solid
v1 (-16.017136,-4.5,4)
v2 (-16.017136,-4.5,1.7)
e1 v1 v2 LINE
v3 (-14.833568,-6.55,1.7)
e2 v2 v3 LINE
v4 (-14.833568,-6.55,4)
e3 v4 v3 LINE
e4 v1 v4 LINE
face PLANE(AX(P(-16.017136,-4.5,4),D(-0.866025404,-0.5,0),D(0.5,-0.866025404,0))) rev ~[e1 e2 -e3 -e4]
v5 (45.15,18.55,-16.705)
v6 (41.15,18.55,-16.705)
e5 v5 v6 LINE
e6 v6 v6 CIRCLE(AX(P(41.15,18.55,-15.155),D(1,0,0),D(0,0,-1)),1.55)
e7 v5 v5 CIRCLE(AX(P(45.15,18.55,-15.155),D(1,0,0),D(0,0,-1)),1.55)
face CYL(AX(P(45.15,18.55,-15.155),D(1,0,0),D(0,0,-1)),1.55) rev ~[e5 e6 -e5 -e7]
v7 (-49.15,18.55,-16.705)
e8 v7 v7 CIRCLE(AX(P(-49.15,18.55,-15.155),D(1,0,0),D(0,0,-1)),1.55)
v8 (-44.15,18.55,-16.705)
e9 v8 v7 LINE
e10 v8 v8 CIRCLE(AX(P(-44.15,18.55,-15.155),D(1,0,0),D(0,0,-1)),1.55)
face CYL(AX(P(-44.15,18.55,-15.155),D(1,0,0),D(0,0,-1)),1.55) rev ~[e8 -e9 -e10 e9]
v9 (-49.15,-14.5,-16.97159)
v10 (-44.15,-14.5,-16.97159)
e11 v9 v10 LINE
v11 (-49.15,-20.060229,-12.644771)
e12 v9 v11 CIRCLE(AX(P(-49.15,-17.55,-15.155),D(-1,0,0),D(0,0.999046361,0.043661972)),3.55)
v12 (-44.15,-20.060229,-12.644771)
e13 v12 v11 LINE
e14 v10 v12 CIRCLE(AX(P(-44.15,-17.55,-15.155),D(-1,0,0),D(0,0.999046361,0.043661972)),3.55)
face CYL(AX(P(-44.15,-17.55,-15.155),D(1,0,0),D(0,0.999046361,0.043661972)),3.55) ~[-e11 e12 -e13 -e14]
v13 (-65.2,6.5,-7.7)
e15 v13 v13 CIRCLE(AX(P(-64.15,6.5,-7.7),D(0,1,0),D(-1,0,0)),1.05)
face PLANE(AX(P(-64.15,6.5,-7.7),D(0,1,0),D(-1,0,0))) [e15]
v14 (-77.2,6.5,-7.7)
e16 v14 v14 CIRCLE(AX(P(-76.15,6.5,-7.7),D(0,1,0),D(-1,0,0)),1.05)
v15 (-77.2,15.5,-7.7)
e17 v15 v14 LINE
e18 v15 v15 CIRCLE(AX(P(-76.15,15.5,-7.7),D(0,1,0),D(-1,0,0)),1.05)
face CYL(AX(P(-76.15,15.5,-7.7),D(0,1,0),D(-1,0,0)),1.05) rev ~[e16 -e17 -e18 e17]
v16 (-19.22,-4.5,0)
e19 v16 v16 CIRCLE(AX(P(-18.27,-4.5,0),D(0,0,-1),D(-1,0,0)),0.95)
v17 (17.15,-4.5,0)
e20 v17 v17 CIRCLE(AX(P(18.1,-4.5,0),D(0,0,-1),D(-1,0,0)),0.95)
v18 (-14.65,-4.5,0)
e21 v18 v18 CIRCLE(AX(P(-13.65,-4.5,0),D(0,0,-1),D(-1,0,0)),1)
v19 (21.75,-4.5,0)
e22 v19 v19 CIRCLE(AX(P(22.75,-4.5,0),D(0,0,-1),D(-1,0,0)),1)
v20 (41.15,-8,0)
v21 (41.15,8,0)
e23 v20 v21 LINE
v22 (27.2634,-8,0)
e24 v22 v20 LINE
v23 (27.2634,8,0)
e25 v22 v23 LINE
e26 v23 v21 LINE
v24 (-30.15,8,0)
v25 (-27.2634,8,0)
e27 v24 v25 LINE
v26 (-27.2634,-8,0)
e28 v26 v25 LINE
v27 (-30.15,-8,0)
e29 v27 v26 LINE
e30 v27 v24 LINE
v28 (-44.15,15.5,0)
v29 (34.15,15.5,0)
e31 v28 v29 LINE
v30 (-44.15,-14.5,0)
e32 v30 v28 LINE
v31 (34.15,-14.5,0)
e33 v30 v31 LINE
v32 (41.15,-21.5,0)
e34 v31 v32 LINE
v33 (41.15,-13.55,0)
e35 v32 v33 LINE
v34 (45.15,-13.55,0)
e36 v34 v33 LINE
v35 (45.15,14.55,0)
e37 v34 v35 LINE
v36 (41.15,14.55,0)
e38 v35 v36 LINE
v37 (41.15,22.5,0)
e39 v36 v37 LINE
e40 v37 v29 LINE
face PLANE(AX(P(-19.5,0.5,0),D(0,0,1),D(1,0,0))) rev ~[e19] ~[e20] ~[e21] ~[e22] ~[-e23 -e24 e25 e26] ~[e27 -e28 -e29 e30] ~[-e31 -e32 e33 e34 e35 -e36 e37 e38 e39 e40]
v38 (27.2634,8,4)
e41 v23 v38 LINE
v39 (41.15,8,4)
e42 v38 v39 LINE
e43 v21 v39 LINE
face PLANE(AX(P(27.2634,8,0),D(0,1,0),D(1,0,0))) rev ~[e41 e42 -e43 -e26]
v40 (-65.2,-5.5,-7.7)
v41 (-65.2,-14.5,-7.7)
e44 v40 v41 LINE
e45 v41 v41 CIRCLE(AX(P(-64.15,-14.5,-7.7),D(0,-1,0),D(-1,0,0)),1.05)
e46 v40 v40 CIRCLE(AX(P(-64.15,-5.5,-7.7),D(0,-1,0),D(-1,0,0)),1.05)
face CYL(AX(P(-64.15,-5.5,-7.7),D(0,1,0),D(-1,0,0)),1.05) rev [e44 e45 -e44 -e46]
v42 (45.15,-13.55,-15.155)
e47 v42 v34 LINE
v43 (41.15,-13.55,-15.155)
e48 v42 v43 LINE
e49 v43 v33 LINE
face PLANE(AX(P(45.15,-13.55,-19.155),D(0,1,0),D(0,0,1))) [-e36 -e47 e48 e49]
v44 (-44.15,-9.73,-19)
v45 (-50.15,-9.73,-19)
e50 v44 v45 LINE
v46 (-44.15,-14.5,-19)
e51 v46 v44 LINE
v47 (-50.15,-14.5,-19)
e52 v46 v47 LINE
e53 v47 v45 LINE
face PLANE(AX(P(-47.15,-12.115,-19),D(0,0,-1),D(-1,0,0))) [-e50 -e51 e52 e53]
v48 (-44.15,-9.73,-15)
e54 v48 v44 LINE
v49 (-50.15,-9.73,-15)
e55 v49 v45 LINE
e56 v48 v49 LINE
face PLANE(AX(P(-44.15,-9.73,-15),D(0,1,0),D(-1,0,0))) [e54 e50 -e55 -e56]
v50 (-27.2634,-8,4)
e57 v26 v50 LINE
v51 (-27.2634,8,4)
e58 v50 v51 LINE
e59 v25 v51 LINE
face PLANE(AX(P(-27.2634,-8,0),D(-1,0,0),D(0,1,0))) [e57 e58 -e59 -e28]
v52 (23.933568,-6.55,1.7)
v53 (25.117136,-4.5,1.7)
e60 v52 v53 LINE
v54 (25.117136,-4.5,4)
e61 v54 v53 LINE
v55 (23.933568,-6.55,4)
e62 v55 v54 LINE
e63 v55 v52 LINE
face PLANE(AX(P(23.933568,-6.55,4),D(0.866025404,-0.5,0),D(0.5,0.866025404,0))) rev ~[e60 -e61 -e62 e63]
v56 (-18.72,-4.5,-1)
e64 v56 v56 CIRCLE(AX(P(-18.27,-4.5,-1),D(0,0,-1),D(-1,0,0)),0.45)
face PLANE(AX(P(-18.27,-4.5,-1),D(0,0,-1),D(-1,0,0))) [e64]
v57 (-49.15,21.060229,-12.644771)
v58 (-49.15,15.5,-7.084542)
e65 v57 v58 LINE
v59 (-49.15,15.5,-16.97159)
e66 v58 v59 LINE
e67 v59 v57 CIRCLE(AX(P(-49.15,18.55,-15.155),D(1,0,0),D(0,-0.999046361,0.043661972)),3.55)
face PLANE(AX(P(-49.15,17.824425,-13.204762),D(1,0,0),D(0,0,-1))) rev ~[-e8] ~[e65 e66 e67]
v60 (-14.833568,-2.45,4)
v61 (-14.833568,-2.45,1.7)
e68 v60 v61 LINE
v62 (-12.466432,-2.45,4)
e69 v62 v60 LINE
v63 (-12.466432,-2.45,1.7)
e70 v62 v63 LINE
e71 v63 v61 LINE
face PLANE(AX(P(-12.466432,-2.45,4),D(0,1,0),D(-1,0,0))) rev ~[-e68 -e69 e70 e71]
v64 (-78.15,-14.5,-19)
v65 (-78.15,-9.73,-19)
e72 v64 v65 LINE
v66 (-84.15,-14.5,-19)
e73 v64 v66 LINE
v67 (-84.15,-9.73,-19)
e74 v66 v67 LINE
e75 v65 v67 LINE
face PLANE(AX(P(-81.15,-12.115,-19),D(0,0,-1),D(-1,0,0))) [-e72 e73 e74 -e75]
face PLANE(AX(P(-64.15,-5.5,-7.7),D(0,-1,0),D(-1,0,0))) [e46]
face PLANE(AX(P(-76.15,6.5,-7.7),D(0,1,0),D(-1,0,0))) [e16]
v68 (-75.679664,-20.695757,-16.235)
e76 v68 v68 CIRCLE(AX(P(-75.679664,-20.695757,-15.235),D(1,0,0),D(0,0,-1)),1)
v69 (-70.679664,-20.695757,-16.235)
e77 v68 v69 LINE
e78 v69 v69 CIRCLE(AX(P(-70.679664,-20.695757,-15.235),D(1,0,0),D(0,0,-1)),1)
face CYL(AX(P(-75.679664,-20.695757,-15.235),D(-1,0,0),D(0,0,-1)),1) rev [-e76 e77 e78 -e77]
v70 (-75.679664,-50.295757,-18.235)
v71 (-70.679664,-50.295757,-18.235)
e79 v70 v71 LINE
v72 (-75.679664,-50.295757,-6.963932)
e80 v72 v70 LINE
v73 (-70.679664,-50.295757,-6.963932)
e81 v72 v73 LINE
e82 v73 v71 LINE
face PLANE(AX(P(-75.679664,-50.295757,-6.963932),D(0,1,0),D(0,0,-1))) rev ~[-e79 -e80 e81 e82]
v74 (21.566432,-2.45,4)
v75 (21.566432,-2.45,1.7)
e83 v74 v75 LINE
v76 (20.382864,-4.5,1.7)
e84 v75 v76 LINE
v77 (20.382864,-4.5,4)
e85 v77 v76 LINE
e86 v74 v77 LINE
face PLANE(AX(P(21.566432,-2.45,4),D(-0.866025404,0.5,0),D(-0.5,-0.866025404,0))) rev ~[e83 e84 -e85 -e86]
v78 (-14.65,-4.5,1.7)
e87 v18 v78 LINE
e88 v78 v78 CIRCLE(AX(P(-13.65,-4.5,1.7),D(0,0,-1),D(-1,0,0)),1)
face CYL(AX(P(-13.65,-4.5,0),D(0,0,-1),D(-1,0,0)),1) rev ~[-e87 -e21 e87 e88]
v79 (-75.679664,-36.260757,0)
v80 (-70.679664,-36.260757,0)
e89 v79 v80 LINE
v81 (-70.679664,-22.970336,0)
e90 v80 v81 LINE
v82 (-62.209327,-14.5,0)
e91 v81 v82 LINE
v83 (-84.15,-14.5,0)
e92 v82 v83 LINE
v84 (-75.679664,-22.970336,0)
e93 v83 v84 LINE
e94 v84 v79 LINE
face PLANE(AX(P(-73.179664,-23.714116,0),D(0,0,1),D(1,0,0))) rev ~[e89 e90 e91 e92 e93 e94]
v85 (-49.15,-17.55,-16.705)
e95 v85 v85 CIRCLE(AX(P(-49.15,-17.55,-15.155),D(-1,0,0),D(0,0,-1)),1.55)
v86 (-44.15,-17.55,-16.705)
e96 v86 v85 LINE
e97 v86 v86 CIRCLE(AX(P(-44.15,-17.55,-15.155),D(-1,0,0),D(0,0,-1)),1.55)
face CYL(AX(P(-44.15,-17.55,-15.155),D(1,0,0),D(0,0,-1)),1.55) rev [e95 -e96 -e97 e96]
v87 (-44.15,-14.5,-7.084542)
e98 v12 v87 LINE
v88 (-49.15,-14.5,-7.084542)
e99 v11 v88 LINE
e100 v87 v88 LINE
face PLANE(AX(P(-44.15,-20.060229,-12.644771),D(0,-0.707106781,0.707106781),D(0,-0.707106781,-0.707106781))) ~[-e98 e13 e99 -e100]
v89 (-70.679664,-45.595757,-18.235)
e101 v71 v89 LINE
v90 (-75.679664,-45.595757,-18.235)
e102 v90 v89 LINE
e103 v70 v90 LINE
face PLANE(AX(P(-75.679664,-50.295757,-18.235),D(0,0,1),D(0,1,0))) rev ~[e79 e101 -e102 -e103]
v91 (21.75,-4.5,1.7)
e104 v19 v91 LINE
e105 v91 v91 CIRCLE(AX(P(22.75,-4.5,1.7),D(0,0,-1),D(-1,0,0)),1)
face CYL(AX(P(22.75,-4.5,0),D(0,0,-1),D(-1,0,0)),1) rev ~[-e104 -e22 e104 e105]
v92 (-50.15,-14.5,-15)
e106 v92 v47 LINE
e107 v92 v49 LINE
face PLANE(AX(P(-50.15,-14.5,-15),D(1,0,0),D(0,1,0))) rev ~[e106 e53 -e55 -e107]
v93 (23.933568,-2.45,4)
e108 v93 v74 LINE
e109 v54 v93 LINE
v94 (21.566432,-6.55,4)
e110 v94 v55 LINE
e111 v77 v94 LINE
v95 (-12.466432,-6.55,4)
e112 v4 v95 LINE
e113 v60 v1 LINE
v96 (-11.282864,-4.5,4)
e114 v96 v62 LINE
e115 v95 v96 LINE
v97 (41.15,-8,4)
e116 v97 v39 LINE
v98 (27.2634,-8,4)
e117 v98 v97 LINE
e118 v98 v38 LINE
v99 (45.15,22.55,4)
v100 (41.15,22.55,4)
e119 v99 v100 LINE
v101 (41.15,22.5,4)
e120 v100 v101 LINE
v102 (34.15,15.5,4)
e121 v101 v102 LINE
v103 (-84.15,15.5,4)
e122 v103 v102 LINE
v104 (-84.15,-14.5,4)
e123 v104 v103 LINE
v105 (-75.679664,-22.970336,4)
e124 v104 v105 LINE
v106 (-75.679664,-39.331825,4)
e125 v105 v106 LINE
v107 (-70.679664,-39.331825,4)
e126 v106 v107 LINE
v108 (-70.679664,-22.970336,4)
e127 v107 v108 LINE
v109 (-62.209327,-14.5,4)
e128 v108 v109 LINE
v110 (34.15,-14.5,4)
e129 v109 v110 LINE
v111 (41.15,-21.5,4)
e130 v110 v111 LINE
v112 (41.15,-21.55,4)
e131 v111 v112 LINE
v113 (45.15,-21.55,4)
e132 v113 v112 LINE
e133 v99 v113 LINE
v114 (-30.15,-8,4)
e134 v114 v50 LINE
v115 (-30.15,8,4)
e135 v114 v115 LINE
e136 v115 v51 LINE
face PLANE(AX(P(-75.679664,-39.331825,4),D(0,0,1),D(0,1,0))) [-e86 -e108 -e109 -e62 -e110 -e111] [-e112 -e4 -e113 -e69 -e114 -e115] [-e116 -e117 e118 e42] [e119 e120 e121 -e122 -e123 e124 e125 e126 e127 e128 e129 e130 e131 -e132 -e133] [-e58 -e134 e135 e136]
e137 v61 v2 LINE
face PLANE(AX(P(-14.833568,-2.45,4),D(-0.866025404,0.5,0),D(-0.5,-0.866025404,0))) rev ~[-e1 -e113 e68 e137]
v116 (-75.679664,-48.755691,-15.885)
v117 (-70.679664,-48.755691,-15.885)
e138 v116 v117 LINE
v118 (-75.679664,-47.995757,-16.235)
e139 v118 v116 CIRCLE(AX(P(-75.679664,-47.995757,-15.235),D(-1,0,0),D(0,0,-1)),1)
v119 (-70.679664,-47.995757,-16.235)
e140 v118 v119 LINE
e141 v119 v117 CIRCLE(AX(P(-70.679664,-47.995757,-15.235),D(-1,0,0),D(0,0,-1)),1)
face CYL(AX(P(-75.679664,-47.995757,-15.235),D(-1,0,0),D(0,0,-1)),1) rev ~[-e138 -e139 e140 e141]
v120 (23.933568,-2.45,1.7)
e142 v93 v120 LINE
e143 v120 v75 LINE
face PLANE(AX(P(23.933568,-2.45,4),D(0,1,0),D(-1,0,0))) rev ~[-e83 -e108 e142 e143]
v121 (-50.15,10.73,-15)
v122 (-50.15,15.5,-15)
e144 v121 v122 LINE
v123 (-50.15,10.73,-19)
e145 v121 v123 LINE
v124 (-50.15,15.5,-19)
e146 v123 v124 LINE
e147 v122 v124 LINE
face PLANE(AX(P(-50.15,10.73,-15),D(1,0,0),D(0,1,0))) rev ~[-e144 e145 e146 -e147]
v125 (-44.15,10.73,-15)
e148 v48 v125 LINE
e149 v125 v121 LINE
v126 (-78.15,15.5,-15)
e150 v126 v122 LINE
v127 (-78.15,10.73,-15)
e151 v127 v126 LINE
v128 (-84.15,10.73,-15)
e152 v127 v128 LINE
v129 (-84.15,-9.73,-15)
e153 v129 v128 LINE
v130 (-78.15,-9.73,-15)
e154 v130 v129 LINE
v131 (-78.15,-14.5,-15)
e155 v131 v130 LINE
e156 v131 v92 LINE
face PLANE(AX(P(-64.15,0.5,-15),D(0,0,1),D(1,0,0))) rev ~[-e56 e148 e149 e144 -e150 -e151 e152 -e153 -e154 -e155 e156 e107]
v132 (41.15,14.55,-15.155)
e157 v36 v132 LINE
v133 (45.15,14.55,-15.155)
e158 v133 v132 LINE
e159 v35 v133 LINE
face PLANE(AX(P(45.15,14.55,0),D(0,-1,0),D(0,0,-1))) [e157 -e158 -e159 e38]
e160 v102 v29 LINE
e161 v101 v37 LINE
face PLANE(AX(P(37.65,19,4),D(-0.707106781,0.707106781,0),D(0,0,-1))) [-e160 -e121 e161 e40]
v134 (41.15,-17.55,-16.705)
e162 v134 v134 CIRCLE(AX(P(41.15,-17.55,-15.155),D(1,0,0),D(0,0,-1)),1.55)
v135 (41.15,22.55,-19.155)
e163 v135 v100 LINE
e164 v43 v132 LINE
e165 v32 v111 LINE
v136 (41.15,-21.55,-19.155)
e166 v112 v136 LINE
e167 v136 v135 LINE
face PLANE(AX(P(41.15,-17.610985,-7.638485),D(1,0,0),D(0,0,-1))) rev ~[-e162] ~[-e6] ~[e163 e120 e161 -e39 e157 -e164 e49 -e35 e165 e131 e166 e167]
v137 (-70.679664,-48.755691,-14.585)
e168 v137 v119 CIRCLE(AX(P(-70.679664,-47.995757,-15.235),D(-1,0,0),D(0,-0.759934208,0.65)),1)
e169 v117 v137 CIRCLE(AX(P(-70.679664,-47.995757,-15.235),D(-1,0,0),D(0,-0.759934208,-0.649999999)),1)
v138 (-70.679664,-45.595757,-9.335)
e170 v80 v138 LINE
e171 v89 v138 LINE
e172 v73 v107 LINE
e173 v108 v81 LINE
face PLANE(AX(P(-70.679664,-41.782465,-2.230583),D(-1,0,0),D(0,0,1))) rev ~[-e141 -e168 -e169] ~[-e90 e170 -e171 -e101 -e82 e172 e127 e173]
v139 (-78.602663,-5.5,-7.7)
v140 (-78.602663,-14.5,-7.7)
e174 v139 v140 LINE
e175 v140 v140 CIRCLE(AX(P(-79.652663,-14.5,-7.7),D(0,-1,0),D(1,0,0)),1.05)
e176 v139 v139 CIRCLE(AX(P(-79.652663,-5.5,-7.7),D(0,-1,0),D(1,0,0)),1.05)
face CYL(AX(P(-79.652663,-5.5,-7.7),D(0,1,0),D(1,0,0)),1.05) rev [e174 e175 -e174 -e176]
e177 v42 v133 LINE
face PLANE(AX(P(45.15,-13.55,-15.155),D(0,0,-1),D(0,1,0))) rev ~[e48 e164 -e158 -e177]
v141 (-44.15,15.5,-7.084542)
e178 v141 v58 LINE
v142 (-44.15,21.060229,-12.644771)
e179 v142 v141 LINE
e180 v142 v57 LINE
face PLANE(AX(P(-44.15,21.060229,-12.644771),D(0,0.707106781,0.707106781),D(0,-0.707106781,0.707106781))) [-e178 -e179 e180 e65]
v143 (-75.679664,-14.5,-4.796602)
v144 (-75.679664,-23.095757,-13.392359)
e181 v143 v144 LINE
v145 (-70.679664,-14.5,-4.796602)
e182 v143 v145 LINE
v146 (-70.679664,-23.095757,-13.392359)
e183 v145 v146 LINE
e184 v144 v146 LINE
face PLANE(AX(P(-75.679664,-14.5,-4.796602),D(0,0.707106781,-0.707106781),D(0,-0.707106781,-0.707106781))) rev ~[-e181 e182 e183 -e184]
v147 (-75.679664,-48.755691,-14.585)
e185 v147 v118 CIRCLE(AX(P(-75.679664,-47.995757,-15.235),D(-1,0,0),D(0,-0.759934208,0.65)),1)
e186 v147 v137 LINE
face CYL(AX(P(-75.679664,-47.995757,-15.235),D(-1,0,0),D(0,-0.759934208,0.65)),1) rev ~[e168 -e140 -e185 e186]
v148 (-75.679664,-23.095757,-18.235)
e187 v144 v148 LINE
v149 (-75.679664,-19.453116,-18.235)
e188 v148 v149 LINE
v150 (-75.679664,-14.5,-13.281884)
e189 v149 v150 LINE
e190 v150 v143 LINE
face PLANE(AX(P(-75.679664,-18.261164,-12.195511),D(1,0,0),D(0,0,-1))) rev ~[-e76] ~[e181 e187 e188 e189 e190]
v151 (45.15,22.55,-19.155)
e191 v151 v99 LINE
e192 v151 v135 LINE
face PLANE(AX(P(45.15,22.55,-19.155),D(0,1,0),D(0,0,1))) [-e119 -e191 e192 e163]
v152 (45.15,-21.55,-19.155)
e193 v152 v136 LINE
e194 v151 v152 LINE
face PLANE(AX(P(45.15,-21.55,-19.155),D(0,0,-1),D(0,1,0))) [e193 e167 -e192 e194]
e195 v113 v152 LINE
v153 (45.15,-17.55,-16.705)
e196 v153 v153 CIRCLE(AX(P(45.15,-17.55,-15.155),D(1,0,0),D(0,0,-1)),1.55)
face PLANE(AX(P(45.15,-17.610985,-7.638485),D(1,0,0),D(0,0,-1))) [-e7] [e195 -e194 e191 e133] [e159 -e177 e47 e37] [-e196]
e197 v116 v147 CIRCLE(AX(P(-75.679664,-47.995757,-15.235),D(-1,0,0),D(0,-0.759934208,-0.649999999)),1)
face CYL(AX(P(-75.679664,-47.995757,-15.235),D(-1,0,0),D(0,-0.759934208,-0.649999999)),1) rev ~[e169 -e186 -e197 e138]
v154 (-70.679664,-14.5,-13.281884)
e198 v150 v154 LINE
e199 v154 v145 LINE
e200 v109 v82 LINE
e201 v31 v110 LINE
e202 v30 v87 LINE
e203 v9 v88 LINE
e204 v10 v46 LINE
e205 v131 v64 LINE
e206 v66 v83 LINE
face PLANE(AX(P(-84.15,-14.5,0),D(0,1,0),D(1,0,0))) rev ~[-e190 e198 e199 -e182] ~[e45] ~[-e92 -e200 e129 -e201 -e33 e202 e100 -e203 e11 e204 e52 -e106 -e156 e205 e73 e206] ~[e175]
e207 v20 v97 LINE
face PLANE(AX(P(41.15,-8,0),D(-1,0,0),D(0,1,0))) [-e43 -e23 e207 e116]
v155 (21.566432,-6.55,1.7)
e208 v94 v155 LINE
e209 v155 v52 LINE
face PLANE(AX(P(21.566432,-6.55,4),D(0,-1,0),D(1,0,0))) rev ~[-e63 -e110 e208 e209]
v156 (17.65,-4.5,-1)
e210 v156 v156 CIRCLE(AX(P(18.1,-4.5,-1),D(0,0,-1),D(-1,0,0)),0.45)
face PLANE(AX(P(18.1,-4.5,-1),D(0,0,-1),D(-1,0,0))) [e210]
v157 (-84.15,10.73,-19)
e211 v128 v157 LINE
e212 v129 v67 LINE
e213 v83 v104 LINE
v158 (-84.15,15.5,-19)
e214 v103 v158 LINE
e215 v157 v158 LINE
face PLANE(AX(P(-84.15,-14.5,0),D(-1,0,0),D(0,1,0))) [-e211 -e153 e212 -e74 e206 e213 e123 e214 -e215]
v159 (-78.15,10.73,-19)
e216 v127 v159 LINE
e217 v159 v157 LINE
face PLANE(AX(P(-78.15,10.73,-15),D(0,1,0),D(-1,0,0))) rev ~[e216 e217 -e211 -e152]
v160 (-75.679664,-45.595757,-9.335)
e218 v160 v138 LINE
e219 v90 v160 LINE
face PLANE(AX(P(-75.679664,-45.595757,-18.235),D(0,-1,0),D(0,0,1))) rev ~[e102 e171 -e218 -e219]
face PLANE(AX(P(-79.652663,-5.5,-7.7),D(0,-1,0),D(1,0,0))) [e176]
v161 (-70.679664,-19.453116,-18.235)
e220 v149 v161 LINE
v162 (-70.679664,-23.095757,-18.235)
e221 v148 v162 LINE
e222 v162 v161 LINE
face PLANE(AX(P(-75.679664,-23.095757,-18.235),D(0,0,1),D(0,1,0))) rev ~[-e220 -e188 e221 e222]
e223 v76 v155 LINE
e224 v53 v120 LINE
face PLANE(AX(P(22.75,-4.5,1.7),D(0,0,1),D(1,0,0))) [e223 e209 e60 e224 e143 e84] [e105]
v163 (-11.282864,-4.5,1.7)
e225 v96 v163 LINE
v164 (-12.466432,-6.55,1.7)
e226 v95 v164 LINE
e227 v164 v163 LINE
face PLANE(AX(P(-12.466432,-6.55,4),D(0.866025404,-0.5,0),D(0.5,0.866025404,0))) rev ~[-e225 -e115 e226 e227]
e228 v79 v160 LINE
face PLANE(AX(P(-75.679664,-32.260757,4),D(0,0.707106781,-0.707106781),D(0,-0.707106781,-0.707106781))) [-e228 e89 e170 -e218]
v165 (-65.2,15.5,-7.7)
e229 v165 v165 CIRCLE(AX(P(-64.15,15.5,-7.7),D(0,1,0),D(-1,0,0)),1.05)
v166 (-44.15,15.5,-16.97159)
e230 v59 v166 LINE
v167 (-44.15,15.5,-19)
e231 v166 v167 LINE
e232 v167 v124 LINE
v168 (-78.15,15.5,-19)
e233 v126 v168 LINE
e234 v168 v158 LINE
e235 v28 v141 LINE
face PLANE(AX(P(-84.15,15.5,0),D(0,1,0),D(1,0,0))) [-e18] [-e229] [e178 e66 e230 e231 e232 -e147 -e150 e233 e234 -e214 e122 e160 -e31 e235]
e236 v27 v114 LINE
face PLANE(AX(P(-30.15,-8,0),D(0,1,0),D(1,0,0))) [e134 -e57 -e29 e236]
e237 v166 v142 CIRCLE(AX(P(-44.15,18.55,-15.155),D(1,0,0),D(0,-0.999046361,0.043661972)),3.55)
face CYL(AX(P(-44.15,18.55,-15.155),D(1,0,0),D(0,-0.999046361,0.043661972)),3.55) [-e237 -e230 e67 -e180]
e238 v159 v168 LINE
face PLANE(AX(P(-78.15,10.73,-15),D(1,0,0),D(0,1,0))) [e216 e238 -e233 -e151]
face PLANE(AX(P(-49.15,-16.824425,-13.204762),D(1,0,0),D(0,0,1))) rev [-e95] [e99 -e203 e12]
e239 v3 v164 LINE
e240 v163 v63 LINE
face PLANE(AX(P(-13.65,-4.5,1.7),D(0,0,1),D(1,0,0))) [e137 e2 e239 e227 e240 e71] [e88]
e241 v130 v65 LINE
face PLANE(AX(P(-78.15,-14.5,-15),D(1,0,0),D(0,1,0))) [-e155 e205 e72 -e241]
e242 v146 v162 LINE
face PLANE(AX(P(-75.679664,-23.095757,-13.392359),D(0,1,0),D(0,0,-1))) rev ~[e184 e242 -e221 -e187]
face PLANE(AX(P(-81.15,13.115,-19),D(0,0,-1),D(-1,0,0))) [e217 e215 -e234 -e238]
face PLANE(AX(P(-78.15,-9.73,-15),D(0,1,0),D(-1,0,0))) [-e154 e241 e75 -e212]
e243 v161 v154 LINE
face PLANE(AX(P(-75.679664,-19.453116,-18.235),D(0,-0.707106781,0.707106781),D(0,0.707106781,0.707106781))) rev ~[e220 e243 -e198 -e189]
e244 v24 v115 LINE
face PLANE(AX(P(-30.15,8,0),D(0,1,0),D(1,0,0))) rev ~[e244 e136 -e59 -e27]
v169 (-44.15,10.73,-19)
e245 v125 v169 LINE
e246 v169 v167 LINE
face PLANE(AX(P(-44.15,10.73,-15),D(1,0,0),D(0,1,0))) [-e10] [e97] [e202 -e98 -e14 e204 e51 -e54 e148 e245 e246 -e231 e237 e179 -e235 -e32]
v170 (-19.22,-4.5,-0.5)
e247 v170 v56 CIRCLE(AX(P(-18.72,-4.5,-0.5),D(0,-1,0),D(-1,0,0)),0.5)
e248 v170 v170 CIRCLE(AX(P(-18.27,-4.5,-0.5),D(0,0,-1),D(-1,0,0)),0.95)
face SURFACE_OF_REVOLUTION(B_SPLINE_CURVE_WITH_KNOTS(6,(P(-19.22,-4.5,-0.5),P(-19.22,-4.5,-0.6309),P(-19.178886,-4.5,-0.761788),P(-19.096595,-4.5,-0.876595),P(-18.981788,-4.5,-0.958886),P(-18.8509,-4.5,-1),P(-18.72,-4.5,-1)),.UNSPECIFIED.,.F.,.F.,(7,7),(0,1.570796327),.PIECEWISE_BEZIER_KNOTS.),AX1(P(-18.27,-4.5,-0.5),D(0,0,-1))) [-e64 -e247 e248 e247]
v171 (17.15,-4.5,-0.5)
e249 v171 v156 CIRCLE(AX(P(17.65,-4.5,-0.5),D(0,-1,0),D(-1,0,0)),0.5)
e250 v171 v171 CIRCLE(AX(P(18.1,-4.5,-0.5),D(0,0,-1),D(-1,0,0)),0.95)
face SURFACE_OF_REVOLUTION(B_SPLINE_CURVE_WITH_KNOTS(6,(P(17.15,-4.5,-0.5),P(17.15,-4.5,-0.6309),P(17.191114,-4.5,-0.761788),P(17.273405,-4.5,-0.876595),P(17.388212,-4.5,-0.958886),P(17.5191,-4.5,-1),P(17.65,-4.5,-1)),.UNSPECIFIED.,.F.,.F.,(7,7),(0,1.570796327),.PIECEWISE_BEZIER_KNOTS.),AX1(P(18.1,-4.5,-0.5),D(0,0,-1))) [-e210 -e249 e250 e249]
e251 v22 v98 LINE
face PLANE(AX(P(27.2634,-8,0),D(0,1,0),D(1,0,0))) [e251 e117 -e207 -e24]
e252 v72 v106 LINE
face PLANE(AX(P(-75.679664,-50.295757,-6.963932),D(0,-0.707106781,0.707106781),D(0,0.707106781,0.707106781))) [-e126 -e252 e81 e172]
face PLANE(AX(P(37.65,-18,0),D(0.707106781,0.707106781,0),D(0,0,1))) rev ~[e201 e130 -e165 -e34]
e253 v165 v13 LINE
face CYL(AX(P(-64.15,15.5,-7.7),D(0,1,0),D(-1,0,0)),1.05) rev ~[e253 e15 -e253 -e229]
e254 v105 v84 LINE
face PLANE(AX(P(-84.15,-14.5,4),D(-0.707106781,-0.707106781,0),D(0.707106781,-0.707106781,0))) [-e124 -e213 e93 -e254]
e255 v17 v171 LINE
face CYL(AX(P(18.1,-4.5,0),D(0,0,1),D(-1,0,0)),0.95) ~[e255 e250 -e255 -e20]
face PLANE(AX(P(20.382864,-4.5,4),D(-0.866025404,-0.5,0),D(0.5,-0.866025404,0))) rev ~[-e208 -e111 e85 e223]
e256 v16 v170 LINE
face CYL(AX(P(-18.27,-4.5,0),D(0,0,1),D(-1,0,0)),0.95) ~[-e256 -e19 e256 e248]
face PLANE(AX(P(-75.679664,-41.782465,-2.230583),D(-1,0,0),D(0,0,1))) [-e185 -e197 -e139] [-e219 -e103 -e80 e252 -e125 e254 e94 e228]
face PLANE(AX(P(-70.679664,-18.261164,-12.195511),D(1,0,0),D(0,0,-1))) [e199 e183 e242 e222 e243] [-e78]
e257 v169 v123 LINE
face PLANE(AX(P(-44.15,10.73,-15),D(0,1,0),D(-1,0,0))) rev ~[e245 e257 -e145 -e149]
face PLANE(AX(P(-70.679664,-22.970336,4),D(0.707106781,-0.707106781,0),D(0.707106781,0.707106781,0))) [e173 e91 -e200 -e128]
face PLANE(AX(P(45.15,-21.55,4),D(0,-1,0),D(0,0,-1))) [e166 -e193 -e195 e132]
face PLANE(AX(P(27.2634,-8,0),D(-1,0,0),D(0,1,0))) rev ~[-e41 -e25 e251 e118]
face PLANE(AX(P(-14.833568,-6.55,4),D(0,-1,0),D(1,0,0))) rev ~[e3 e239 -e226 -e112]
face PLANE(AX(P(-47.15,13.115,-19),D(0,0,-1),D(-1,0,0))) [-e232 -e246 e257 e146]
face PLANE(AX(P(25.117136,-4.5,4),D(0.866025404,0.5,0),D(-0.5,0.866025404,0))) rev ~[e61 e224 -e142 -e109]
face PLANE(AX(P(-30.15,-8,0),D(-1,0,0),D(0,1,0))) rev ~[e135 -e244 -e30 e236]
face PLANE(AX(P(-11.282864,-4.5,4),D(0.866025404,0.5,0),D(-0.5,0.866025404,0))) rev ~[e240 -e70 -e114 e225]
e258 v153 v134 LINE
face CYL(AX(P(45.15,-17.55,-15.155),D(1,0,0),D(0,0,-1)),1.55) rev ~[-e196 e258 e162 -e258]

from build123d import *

# Parameters (mm, degrees)
SKETCH_1_W          = 40
SKETCH_1_H          = 30
EXTRUDE_1_DEPTH     = 15
SKETCH_3_R          = 1.55
EXTRUDE_2_DEPTH     = 5
SKETCH_4_W          = 6
SKETCH_4_H          = 4.77
EXTRUDE_3_DEPTH     = 4
SKETCH_5_W          = 129.3
SKETCH_5_H          = 30
SKETCH_5_W_2        = 13.8866
SKETCH_5_H_2        = 16
SKETCH_5_W_3        = 2.8866
EXTRUDE_4_DEPTH     = 4
SKETCH_7_R          = 1.55
SKETCH_7_W          = 4
SKETCH_7_H          = 0.95
SKETCH_7_H_2        = 28.1
EXTRUDE_5_DEPTH     = 4
SKETCH_8_R          = 1
EXTRUDE_6_DEPTH     = 5
EXTRUDE_7_DEPTH     = 5
EXTRUDE_8_DEPTH     = 4
SKETCH_12_R         = 1.05
CUT_EXTRUDE_1_DEPTH = 9
CUT_EXTRUDE_START   = -9
SKETCH_13_R         = 1.05
CUT_EXTRUDE_2_DEPTH = 9
CHAMFER_1_SIZE      = 7
CUT_EXTRUDE_3_REACH = 101.889
SKETCH_14_R         = 1
SKETCH_15_R         = 0.95
EXTRUDE_9_DEPTH     = 1
FILLET_1_R          = 0.5
CUT_EXTRUDE_4_DEPTH = 2.3


with BuildPart() as part:
    # 草图1 → 凸台-拉伸1 (new body)
    with BuildSketch(Plane.XY):
        with Locations((-64.15, 0.5)):
            Rectangle(SKETCH_1_W, SKETCH_1_H)
    extrude(amount=-EXTRUDE_1_DEPTH)

    # 草图3 → 凸台-拉伸2 (add)
    with BuildSketch(Plane(origin=(-44.15, 0, 0), x_dir=(0, 0, -1), z_dir=(1, 0, 0))):
        with BuildLine():
            Line((7.084541854, 15.5), (15, 15.5))
            Line((15, 15.5), (15, 15.003385417))
            ThreePointArc((15, 15.003385417), (18.463655357, 19.83658452), (12.644770927, 21.060229073))
            Line((12.644770927, 21.060229073), (7.084541854, 15.5))
        make_face()
        with Locations((15.155, 18.55)):
            Circle(SKETCH_3_R, mode=Mode.SUBTRACT)
    extrude_2 = extrude(amount=-EXTRUDE_2_DEPTH)

    # 镜向2: 凸台-拉伸2 across plane
    add(extrude_2.mirror(Plane.ZX.offset(0.5)))

    # 草图4 → 凸台-拉伸3 (add)
    with BuildSketch(Plane(origin=(0, 0, -15), x_dir=(-1, 0, 0), z_dir=(0, 0, -1))):
        with Locations((47.15, 13.115)):
            Rectangle(SKETCH_4_W, SKETCH_4_H)
        with Locations((81.15, 13.115)):
            Rectangle(SKETCH_4_W, SKETCH_4_H)
        with Locations((81.15, -12.115)):
            Rectangle(SKETCH_4_W, SKETCH_4_H)
        with Locations((47.15, -12.115)):
            Rectangle(SKETCH_4_W, SKETCH_4_H)
    extrude(amount=EXTRUDE_3_DEPTH)

    # 草图5 → 凸台-拉伸4 (add)
    with BuildSketch(Plane.XY):
        with Locations((-19.5, 0.5)):
            Rectangle(SKETCH_5_W, SKETCH_5_H)
        with Locations((34.2067, 0)):
            Rectangle(SKETCH_5_W_2, SKETCH_5_H_2, mode=Mode.SUBTRACT)
        with Locations((-28.7067, 0)):
            Rectangle(SKETCH_5_W_3, SKETCH_5_H_2, mode=Mode.SUBTRACT)
    extrude(amount=EXTRUDE_4_DEPTH)

    # 草图7 → 凸台-拉伸5 (add)
    # profile 1 of 4: a face of its own
    with BuildSketch(Plane(origin=(45.15, 0, 0), x_dir=(0, 0, -1), z_dir=(1, 0, 0))):
        Polygon((19.155, -21.55), (19.155, -13.55), (15.155, -13.55), (0, -13.55), (0, -14.5), (-4, -14.5), (-4, -21.55), align=None)
        with Locations((15.155, -17.55)):
            Circle(SKETCH_7_R, mode=Mode.SUBTRACT)
    # profile 2 of 4: a face of its own
    with BuildSketch(Plane(origin=(45.15, 0, 0), x_dir=(0, 0, -1), z_dir=(1, 0, 0))):
        with Locations((-2, -14.025)):
            Rectangle(SKETCH_7_W, SKETCH_7_H)
    # profile 3 of 4: a face of its own
    with BuildSketch(Plane(origin=(45.15, 0, 0), x_dir=(0, 0, -1), z_dir=(1, 0, 0))):
        with Locations((17.155, 0.5)):
            Rectangle(SKETCH_7_W, SKETCH_7_H_2)
    # profile 4 of 4: a face of its own
    with BuildSketch(Plane(origin=(45.15, 0, 0), x_dir=(0, 0, -1), z_dir=(1, 0, 0))):
        Polygon((19.155, 14.55), (19.155, 22.55), (-4, 22.55), (-4, 15.5), (0, 15.5), (0, 14.55), (15.155, 14.55), align=None)
        with Locations((15.155, 18.55)):
            Circle(SKETCH_7_R, mode=Mode.SUBTRACT)
    extrude(amount=-EXTRUDE_5_DEPTH)

    # 草图8 → 凸台-拉伸6 (add)
    with BuildSketch(Plane(origin=(-75.679663749, 0, 0), x_dir=(0, 0, -1), z_dir=(1, 0, 0))):
        Polygon((13.392359313, -23.095757056), (18.235, -23.095757056), (18.235, -19.453116369), (13.281883631, -14.5), (4.796602257, -14.5), align=None)
        with Locations((15.235, -20.695757056)):
            Circle(SKETCH_8_R, mode=Mode.SUBTRACT)
    extrude(amount=EXTRUDE_6_DEPTH)



with BuildPart() as body_2:
    # 草图9 → 凸台-拉伸7 (new body)
    with BuildSketch(Plane(origin=(-75.679663749, 0, 0), x_dir=(0, 0, -1), z_dir=(1, 0, 0))):
        Polygon((-4, -39.331824868), (-4, -32.260757056), (9.335, -45.595757056), (9.335, -50.295757056), (6.963932188, -50.295757056), align=None)
        with BuildLine():
            Line((9.335, -45.595757056), (9.335, -50.295757056))
            Line((9.335, -50.295757056), (14.585, -50.295757056))
            Line((14.585, -50.295757056), (14.585, -48.755691264))
            ThreePointArc((14.585, -48.755691264), (14.816669987, -47.08746195), (16.235, -47.995757056))
            ThreePointArc((16.235, -47.995757056), (16.143295106, -48.41408707), (15.885, -48.755691264))
            Line((15.885, -48.755691264), (15.885, -50.295757056))
            Line((15.885, -50.295757056), (18.235, -50.295757056))
            Line((18.235, -50.295757056), (18.235, -45.595757056))
            Line((18.235, -45.595757056), (9.335, -45.595757056))
        make_face()
        with BuildLine():
            Line((14.585, -48.755691264), (14.585, -50.295757056))
            Line((14.585, -50.295757056), (15.885, -50.295757056))
            Line((15.885, -50.295757056), (15.885, -48.755691264))
            ThreePointArc((15.885, -48.755691264), (15.235, -48.995757056), (14.585, -48.755691264))
        make_face()
    extrude(amount=EXTRUDE_7_DEPTH)


with BuildPart() as part_1:
    add(part.part)

    add(body_2.part)  # 凸台-拉伸8 merges body 2
    # 草图11 → 凸台-拉伸8 (add)
    with BuildSketch(Plane.XY.offset(4)):
        Polygon((-70.679663749, -39.331824868), (-70.679663749, -22.970336251), (-62.209327497, -14.5), (-84.15, -14.5), (-75.679663749, -22.970336251), (-75.679663749, -39.331824868), align=None)
    extrude(amount=-EXTRUDE_8_DEPTH)

    # 草图12 → 切除-拉伸1 (cut)
    with BuildSketch(Plane(origin=(0, 15.5, 0), x_dir=(1, 0, 0), z_dir=(0, 1, 0))):
        with Locations(Location((-76.15, 7.7, 0), (0, 0, 180))):
            Circle(SKETCH_12_R)
        with Locations(Location((-64.15, 7.7, 0), (0, 0, 180))):
            Circle(SKETCH_12_R)
    extrude(amount=-CUT_EXTRUDE_1_DEPTH, mode=Mode.SUBTRACT)

    # 草图13 → 切除-拉伸2 (cut)
    with BuildSketch(Plane.XZ.offset(14.5).offset(CUT_EXTRUDE_START)):
        with Locations(Location((-64.15, -7.7, 0), (0, 0, 180))):
            Circle(SKETCH_13_R)
        with Locations((-79.652663002, -7.7)):
            Circle(SKETCH_13_R)
    extrude(amount=CUT_EXTRUDE_2_DEPTH, mode=Mode.SUBTRACT)

    # 倒角1
    chamfer_1_edges = [part_1.edges().sort_by_distance(p)[0] for p in [
        (41.15, -14.5, 2),
        (41.15, 15.5, 2),
    ]]
    chamfer(chamfer_1_edges, length=CHAMFER_1_SIZE)

    # 草图14 → 切除-拉伸3 (cut, up to next)
    with BuildSketch(Plane(origin=(0, 0, 0), x_dir=(-1, 0, 0), z_dir=(0, 0, -1)), mode=Mode.PRIVATE) as cut_extrude_3_sk1:
        with Locations((-22.75, -4.5)):
            Circle(SKETCH_14_R)
    cut_extrude_3_tool1 = extrude(cut_extrude_3_sk1.sketch, amount=-CUT_EXTRUDE_3_REACH, mode=Mode.PRIVATE) & part_1.part
    # 草图14 → 切除-拉伸3 (cut, up to next)
    with BuildSketch(Plane(origin=(0, 0, 0), x_dir=(-1, 0, 0), z_dir=(0, 0, -1)), mode=Mode.PRIVATE) as cut_extrude_3_sk2:
        with Locations((13.65, -4.5)):
            Circle(SKETCH_14_R)
    cut_extrude_3_tool2 = extrude(cut_extrude_3_sk2.sketch, amount=-CUT_EXTRUDE_3_REACH, mode=Mode.PRIVATE) & part_1.part
    add(cut_extrude_3_tool1.solids().sort_by_distance((22.75, -4.5, 0))[0], mode=Mode.SUBTRACT)
    add(cut_extrude_3_tool2.solids().sort_by_distance((-13.65, -4.5, 0))[0], mode=Mode.SUBTRACT)

    # 草图15 → 凸台-拉伸9 (add)
    with BuildSketch(Plane(origin=(0, 0, 0), x_dir=(-1, 0, 0), z_dir=(0, 0, -1))):
        with Locations((18.27, -4.5)):
            Circle(SKETCH_15_R)
        with Locations((-18.1, -4.5)):
            Circle(SKETCH_15_R)
    extrude(amount=EXTRUDE_9_DEPTH)

    # 圆角1
    fillet_1_edges = [part_1.edges().sort_by_distance(p)[0] for p in [
        (-17.32, -4.5, -1),
        (19.05, -4.5, -1),
    ]]
    fillet(fillet_1_edges, radius=FILLET_1_R)

    # 草图16 → 切除-拉伸4 (cut)
    with BuildSketch(Plane.XY.offset(4)):
        Polygon((25.117136104, -4.5), (23.933568052, -2.45), (21.566431948, -2.45), (20.382863896, -4.5), (21.566431948, -6.55), (23.933568052, -6.55), align=None)
        Polygon((-11.282863896, -4.5), (-12.466431948, -2.45), (-14.833568052, -2.45), (-16.017136104, -4.5), (-14.833568052, -6.55), (-12.466431948, -6.55), align=None)
    extrude(amount=-CUT_EXTRUDE_4_DEPTH, mode=Mode.SUBTRACT)


solid = part_1.part
